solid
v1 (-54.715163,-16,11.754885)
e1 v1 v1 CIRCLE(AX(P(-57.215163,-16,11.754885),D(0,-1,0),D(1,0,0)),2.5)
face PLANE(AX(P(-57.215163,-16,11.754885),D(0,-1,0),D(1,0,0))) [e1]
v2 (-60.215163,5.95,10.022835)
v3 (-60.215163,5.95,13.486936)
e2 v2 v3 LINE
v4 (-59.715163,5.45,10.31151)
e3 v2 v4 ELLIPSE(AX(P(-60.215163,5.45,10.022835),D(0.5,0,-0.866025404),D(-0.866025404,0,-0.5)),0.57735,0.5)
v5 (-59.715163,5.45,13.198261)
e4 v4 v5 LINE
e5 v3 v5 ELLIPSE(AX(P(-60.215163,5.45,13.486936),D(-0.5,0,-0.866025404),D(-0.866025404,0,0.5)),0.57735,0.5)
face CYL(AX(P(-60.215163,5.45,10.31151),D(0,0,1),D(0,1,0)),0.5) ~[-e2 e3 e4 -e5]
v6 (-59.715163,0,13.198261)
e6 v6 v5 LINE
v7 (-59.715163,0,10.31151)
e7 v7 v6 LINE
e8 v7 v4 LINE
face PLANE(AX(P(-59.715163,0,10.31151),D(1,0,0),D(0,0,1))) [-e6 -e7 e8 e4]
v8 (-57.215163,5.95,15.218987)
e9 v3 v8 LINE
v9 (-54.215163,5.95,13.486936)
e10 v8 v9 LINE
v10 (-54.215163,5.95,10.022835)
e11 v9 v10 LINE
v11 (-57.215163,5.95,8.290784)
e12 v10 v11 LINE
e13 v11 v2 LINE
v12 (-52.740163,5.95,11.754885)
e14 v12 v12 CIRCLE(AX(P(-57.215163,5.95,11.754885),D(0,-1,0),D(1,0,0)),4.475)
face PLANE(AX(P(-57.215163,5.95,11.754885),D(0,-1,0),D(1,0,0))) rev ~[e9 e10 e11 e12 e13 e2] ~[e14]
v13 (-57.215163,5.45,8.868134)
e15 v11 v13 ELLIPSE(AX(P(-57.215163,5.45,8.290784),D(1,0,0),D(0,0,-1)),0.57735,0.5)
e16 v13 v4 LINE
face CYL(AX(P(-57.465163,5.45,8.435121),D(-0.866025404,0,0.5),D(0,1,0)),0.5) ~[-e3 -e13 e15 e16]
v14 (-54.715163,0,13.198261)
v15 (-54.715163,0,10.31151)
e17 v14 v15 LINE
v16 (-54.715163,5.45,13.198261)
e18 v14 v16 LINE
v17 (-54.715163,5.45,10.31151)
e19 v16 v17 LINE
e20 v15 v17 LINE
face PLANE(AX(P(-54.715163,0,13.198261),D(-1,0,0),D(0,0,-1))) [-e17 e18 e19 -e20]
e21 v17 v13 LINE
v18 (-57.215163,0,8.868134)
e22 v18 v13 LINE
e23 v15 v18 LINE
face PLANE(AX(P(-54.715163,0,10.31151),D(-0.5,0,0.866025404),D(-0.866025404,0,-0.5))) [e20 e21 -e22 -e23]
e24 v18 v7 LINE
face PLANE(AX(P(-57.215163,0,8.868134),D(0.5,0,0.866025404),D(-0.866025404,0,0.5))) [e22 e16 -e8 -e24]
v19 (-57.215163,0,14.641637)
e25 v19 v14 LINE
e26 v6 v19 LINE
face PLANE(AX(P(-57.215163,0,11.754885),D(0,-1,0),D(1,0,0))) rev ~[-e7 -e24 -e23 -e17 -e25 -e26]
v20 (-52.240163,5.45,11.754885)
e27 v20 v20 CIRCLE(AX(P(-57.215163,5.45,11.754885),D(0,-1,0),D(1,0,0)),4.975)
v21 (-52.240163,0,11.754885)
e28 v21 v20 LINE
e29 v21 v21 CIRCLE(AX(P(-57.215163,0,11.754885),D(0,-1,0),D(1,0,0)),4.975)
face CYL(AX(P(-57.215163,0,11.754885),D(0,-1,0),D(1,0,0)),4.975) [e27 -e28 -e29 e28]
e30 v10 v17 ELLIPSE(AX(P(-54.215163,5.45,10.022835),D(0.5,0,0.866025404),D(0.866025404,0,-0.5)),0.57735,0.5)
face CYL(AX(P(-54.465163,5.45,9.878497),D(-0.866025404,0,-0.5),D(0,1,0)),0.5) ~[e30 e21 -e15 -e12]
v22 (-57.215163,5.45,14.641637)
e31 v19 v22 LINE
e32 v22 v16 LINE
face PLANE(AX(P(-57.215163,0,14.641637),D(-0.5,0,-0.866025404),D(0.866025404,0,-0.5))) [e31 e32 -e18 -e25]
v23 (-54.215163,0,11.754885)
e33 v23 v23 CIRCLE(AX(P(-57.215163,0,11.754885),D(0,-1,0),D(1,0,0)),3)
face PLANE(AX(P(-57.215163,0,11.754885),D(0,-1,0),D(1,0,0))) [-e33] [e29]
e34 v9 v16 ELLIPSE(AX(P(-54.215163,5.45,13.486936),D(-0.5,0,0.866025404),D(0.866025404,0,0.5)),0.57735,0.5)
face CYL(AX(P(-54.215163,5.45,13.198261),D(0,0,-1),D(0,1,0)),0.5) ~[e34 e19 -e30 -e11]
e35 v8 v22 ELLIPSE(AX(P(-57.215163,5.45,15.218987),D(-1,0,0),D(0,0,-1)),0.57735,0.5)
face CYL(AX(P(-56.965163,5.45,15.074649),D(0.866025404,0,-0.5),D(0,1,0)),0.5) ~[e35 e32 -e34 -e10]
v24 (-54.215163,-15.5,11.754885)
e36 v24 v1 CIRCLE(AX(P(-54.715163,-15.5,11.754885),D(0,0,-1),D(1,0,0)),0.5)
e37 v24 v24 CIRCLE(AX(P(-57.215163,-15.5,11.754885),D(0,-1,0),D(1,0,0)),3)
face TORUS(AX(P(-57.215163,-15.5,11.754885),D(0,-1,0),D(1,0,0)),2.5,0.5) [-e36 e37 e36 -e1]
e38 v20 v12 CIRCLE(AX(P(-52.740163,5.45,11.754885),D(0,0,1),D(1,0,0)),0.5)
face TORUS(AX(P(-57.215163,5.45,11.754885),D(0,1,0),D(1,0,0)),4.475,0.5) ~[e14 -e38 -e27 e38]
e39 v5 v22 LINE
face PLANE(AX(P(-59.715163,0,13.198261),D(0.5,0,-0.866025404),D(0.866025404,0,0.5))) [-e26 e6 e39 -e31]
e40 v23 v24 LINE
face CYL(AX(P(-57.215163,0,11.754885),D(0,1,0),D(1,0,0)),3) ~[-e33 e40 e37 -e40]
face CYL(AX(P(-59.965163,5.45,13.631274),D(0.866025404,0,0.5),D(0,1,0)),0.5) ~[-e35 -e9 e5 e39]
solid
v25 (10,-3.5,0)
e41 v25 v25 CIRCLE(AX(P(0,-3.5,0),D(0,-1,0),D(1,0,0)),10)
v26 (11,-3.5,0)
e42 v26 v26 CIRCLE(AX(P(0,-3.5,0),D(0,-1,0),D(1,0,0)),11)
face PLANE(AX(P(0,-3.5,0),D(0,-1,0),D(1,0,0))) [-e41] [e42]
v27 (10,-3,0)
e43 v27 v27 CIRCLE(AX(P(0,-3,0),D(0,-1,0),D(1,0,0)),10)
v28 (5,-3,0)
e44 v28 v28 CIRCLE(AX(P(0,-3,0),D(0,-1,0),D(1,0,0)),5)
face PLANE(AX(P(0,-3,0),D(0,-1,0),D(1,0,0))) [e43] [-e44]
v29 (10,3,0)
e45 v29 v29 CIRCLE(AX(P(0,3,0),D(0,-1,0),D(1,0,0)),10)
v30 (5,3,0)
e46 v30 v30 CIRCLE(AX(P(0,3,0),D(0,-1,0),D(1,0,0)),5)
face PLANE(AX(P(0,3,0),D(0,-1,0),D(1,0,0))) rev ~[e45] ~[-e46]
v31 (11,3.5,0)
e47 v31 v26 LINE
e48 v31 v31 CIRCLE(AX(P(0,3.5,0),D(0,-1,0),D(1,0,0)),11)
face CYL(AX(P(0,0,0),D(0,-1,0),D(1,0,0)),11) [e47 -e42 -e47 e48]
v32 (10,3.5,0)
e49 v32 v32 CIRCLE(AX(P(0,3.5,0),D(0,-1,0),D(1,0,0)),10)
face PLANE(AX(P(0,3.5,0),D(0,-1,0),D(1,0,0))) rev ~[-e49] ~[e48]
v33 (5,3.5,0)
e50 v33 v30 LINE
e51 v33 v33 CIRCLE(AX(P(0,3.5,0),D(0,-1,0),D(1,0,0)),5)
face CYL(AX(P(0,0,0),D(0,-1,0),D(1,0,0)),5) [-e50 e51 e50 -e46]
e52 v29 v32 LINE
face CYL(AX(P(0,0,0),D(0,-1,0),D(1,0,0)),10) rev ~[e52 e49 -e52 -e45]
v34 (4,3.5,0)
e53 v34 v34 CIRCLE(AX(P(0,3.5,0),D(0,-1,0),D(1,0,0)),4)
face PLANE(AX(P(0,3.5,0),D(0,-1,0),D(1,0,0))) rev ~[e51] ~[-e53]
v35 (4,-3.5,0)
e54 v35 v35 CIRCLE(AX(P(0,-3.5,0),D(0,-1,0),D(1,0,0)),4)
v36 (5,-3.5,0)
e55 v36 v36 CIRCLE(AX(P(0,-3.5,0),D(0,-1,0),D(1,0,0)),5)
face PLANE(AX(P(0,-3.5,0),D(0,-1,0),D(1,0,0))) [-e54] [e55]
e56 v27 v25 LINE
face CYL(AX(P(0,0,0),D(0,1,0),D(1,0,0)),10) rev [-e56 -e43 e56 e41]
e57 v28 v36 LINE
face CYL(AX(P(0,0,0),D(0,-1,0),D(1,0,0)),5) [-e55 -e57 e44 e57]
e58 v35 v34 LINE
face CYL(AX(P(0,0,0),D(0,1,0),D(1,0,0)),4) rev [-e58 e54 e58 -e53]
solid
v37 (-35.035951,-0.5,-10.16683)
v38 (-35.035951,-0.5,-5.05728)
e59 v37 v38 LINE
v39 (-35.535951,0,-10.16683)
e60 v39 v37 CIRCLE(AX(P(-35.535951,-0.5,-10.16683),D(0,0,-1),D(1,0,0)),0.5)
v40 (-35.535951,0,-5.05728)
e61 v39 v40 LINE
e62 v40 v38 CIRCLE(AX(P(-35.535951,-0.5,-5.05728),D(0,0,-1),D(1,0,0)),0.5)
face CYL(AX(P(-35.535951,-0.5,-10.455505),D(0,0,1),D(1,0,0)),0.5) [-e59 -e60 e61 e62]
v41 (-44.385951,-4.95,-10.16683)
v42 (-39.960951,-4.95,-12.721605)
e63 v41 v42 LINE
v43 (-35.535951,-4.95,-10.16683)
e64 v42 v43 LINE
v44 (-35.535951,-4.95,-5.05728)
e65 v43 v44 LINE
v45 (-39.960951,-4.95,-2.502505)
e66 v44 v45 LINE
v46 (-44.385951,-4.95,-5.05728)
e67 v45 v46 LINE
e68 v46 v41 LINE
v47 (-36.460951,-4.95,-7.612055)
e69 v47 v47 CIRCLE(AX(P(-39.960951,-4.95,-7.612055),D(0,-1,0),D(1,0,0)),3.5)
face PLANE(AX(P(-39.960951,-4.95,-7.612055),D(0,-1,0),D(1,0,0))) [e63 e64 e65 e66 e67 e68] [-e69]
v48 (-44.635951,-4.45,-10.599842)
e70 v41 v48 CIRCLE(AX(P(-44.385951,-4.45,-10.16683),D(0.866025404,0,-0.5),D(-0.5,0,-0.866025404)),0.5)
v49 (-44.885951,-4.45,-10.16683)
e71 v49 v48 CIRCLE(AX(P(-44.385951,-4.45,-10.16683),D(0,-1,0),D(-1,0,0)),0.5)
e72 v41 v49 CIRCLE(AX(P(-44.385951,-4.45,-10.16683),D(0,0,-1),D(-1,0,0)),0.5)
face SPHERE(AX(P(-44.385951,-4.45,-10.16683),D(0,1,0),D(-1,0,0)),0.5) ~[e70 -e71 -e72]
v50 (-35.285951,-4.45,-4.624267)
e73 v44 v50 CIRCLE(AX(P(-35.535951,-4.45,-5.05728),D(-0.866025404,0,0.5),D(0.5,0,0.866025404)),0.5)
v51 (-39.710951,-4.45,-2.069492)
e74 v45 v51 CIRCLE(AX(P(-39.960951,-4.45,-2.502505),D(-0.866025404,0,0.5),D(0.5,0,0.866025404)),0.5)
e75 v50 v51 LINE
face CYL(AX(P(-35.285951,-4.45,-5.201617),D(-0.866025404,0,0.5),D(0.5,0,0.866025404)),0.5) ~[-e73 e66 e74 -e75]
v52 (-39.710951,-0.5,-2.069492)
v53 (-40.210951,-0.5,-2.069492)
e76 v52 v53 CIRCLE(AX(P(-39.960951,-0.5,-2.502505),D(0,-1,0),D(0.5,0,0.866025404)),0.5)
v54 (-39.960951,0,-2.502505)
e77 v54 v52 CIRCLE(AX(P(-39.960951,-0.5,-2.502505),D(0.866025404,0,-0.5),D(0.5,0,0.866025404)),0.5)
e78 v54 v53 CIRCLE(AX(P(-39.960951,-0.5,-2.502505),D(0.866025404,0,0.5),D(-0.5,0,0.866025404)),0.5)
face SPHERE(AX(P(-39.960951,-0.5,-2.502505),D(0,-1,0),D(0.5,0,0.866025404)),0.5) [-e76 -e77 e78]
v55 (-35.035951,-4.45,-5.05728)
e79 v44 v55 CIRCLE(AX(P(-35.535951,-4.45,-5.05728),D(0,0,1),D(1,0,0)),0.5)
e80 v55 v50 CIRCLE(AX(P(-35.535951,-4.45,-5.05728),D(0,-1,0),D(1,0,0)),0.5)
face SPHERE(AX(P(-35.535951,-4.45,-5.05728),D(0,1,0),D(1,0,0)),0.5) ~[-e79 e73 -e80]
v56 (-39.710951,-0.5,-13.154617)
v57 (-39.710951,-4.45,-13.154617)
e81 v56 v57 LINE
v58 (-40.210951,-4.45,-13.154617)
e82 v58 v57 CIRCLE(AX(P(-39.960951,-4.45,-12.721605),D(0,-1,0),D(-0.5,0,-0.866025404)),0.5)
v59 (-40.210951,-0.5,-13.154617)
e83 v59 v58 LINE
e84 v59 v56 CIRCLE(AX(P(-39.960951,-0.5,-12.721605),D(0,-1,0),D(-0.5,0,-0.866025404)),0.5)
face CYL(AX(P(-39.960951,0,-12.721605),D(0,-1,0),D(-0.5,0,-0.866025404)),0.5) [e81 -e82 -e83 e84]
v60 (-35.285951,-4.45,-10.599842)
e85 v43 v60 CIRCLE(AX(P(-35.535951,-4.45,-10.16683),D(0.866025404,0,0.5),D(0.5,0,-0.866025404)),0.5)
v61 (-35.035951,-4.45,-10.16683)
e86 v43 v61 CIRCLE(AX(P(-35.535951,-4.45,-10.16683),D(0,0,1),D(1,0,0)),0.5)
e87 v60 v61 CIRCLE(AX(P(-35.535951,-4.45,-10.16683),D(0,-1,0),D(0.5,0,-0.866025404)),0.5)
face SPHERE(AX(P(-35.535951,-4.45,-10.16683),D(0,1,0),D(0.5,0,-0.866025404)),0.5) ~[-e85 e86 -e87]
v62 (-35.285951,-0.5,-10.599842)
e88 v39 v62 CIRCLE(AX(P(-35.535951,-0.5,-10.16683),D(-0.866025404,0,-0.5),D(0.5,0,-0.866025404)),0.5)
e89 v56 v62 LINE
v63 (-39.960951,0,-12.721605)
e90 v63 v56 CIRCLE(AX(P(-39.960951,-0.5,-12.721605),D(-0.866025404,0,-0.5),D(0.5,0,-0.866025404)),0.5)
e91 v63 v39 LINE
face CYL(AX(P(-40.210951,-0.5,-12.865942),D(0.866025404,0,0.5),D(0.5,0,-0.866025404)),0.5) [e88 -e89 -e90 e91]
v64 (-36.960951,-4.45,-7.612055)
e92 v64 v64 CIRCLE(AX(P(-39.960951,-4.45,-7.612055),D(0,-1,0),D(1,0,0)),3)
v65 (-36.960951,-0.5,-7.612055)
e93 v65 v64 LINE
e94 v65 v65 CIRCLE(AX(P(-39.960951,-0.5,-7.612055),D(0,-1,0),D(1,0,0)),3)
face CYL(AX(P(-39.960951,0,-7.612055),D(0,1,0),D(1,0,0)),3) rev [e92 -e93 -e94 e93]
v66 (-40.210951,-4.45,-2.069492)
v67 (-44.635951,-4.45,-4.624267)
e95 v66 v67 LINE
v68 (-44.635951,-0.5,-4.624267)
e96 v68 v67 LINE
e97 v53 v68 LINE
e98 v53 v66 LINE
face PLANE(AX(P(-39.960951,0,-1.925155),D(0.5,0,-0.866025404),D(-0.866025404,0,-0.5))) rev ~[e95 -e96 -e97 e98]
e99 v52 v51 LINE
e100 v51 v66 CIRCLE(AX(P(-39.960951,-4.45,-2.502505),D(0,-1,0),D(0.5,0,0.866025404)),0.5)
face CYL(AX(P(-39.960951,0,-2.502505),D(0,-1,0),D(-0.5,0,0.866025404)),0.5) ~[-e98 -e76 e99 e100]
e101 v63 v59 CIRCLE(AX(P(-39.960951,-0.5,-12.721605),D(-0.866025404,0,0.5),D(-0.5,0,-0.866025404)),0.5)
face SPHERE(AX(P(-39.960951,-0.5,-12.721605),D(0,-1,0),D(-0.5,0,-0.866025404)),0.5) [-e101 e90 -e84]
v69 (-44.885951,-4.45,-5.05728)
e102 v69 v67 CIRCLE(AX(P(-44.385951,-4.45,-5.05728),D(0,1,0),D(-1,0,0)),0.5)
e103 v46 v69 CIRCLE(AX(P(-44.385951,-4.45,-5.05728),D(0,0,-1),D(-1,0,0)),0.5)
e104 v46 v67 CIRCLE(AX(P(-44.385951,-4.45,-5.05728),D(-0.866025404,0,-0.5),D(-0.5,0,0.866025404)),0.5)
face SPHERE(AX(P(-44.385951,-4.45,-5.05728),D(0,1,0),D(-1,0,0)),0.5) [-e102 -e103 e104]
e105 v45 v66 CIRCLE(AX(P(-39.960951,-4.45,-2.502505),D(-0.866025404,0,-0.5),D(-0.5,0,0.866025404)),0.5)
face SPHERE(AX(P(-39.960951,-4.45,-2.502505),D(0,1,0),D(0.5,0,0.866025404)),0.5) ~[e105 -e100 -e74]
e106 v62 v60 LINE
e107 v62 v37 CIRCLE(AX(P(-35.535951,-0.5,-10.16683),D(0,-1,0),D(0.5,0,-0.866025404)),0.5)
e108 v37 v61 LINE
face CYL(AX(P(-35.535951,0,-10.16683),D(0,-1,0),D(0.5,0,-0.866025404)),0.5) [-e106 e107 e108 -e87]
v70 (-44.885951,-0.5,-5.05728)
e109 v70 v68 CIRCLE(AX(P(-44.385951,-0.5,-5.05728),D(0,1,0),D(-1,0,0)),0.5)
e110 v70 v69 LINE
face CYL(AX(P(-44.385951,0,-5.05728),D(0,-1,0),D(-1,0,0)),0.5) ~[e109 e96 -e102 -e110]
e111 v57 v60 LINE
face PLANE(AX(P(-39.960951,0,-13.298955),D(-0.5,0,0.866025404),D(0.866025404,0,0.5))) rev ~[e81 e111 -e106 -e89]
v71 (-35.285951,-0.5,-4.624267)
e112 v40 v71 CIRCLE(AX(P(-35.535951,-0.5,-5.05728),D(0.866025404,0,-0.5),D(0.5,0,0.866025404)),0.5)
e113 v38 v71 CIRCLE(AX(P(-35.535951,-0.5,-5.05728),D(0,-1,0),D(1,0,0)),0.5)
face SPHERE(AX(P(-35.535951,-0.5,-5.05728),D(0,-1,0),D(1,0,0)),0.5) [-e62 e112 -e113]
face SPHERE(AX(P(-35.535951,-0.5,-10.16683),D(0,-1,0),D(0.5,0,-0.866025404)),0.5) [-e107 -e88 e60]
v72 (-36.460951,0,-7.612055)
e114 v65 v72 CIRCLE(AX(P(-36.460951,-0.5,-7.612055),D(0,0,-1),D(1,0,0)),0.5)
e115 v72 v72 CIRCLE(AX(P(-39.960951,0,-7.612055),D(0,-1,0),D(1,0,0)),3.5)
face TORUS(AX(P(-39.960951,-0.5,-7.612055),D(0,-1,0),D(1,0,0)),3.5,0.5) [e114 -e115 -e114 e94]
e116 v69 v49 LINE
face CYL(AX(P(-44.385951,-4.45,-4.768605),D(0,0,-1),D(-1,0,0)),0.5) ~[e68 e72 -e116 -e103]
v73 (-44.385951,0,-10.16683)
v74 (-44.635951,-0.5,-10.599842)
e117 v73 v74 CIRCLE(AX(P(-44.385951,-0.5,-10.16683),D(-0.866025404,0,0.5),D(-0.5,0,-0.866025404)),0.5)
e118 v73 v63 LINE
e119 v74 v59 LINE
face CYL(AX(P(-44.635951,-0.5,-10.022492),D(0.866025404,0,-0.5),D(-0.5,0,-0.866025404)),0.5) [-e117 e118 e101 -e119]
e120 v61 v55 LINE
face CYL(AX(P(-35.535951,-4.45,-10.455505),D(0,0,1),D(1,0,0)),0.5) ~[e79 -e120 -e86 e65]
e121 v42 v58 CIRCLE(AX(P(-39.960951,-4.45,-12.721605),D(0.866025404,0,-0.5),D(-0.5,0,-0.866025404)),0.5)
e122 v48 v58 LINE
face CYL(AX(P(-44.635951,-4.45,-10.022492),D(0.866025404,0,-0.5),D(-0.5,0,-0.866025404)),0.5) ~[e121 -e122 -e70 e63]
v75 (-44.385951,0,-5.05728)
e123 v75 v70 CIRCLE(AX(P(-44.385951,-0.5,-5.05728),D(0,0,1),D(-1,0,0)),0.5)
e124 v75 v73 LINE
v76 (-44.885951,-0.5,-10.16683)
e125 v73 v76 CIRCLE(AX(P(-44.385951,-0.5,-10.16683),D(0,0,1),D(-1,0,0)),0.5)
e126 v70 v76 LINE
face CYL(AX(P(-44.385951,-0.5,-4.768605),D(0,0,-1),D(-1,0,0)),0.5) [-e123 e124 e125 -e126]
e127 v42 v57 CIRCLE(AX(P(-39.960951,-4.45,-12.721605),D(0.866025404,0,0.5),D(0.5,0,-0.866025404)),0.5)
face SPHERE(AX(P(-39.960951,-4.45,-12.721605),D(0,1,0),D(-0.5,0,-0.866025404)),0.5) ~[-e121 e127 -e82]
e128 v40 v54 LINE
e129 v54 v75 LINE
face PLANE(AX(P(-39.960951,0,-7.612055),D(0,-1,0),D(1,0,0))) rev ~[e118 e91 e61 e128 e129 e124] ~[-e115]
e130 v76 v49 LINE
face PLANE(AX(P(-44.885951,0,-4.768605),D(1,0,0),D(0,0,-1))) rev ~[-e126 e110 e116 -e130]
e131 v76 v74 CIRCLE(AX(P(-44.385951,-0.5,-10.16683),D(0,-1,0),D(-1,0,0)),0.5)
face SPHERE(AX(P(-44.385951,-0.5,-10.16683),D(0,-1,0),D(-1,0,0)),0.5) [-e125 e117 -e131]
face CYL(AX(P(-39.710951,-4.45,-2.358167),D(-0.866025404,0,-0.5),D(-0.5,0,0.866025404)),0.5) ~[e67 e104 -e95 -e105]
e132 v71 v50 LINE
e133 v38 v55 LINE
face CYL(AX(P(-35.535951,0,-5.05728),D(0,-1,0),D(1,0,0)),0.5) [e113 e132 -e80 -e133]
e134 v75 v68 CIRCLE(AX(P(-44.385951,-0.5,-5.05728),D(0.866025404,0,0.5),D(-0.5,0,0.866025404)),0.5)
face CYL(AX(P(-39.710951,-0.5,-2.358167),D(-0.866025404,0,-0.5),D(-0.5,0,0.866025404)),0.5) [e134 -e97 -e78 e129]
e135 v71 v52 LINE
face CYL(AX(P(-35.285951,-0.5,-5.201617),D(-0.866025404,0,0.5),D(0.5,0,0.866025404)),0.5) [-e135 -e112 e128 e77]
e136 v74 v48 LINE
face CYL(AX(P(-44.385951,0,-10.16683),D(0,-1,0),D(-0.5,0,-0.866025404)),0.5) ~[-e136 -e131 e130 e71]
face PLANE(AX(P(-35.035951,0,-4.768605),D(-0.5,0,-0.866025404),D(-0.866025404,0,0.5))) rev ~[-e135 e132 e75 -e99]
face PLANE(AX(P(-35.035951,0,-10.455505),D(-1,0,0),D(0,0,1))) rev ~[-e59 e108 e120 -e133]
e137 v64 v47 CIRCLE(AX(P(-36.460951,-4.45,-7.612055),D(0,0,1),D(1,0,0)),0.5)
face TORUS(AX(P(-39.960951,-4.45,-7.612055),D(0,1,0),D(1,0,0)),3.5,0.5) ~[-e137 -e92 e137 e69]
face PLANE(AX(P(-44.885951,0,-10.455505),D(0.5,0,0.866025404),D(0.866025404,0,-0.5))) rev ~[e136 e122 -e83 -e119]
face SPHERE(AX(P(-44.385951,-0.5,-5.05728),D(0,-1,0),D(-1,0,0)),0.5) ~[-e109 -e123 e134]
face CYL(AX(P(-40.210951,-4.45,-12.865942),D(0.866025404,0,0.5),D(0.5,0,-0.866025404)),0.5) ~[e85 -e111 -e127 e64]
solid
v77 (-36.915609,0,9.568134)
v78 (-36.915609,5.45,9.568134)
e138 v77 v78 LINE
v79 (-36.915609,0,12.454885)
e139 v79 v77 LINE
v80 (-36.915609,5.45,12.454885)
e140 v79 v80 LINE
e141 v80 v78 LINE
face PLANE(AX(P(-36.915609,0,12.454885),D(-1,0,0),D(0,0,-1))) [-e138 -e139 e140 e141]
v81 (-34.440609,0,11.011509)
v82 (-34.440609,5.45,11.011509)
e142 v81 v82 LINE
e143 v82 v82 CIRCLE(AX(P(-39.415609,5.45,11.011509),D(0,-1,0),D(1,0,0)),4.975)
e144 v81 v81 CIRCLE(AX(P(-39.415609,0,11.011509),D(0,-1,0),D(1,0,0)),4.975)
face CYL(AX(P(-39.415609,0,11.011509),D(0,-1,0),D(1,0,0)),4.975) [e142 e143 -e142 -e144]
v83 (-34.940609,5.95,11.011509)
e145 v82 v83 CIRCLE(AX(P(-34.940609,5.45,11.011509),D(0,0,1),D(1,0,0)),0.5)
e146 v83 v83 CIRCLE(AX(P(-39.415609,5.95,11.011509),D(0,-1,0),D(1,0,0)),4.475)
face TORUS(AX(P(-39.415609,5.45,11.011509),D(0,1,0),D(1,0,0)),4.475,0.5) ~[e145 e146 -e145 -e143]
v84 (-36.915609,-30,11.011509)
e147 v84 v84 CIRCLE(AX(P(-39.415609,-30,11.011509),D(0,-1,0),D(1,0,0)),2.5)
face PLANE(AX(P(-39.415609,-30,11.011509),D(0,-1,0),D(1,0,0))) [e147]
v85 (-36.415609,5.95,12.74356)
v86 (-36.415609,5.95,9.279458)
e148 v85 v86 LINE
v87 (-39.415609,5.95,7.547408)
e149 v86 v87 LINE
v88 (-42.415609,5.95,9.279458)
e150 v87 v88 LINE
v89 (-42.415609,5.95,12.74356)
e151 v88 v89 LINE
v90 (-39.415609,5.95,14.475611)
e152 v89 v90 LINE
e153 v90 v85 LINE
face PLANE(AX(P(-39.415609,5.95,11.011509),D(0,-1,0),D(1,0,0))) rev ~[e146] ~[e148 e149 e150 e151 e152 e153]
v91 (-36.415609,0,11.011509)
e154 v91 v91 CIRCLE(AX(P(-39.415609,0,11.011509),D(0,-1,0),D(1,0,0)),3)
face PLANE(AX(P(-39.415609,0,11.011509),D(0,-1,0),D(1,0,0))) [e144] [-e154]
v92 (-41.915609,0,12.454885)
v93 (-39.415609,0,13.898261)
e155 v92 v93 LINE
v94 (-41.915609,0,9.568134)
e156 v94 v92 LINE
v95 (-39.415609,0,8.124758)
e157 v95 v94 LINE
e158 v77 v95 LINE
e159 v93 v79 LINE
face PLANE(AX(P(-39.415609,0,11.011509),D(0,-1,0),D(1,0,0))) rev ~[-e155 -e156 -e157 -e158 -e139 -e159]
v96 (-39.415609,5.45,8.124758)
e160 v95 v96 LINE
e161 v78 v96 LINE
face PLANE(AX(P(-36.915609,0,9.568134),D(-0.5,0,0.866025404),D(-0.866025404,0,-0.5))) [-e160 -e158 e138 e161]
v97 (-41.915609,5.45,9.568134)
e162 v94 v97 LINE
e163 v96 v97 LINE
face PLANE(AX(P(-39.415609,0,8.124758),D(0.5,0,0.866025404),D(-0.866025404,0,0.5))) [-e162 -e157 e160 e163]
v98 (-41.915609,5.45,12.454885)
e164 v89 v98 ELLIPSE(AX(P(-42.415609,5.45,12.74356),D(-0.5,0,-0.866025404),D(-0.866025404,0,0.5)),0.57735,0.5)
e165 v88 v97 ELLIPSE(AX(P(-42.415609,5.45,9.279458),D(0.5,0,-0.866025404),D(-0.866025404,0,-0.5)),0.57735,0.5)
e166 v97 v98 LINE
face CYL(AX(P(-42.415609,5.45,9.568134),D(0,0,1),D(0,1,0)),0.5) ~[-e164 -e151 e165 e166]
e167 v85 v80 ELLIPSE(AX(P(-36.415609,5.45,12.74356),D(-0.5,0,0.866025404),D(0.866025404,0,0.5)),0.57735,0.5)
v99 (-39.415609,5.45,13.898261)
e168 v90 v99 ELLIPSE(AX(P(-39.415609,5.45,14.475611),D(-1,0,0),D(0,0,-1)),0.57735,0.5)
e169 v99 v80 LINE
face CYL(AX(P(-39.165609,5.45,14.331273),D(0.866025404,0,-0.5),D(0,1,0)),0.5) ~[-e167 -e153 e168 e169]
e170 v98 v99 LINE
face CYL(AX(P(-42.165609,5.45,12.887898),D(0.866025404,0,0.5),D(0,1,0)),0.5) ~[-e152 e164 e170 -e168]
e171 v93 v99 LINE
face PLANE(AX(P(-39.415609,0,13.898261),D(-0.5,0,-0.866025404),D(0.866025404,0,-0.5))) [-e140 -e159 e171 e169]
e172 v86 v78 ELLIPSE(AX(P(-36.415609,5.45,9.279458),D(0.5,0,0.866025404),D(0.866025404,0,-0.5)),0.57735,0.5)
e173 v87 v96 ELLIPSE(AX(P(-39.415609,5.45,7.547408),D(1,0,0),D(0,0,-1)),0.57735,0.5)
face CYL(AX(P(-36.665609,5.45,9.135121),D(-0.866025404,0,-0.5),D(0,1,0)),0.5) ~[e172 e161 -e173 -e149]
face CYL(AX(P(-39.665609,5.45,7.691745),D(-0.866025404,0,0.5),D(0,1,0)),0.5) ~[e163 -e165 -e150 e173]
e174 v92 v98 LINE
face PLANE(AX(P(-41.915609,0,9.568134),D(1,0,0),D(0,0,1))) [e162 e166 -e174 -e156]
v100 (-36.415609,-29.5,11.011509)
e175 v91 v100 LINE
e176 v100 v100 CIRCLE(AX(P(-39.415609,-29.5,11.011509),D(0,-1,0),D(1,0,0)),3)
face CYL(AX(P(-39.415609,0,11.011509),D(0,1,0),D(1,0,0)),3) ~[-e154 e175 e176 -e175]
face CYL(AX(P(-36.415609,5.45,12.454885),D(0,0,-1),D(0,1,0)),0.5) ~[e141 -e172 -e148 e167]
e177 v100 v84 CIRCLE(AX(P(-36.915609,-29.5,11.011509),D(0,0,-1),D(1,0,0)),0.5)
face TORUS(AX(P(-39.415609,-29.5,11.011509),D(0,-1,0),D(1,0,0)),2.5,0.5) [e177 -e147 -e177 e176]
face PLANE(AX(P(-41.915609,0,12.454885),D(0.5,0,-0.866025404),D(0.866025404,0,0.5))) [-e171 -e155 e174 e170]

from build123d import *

# Parameters (mm, degrees)
F0_R     = 10
F0_R_2   = 5
F1_DEPTH = 3
F0_R_3   = 11
F0_R_4   = 4
F2_DEPTH = 3.5
F3_R     = 4.975
F3_R_2   = 3
F4_DEPTH = 5.95
F5_DEPTH = 30
F6_DEPTH = 16
F7_DEPTH = 4.95
F8_R     = 0.5
F8_2_R   = 0.5
F8_3_R   = 0.5


with BuildPart() as f1:
    # F0 (on Front) → F1 (new body, symmetric)
    with BuildSketch(Plane.XZ):
        Circle(F0_R)
        Circle(F0_R_2, mode=Mode.SUBTRACT)
    extrude(amount=F1_DEPTH, both=True)

    # F0 (on Front) → F2 (join, symmetric)
    with BuildSketch(Plane.XZ):
        Circle(F0_R_3)
        Circle(F0_R, mode=Mode.SUBTRACT)
        Circle(F0_R_2)
        Circle(F0_R_4, mode=Mode.SUBTRACT)
    extrude(amount=F2_DEPTH, both=True)


with BuildPart() as f4:
    # F3 (on Front) → F4 (new body)
    with BuildSketch(Plane.XZ):
        with Locations((-57.2151634924, 11.7548853159)):
            Circle(F3_R)
        with Locations((-57.2151634924, 11.7548853159)):
            Circle(F3_R_2, mode=Mode.SUBTRACT)
        with Locations((-57.2151634924, 11.7548853159)):
            Circle(F3_R_2)
        Polygon((-57.2151634924, 14.6416366618), (-54.7151634924, 13.1982609889), (-54.7151634924, 10.3115096429), (-57.2151634924, 8.8681339699), (-59.7151634924, 10.3115096429), (-59.7151634924, 13.1982609889), align=None, mode=Mode.SUBTRACT)
    extrude(amount=-F4_DEPTH)

    # F3 (on Front) → F6 (join)
    with BuildSketch(Plane.XZ):
        with Locations((-57.2151634924, 11.7548853159)):
            Circle(F3_R_2)
        Polygon((-57.2151634924, 14.6416366618), (-54.7151634924, 13.1982609889), (-54.7151634924, 10.3115096429), (-57.2151634924, 8.8681339699), (-59.7151634924, 10.3115096429), (-59.7151634924, 13.1982609889), align=None, mode=Mode.SUBTRACT)
        Polygon((-54.7151634924, 10.3115096429), (-54.7151634924, 13.1982609889), (-57.2151634924, 14.6416366618), (-59.7151634924, 13.1982609889), (-59.7151634924, 10.3115096429), (-57.2151634924, 8.8681339699), align=None)
    extrude(amount=F6_DEPTH)

    # F8#3
    f8_3_edges = [f4.edges().sort_by_distance(p)[0] for p in [
        (-60.215163, -16, 11.754885),
        (-55.965163, 5.95, 13.919949),
        (-54.715163, 5.95, 11.754885),
        (-55.965163, 5.95, 9.589822),
        (-58.465163, 5.95, 9.589822),
        (-59.715163, 5.95, 11.754885),
        (-58.465163, 5.95, 13.919949),
        (-62.190163, 5.95, 11.754885),
    ]]
    fillet(f8_3_edges, radius=F8_3_R)


with BuildPart() as f4b:
    # F3 (on Front) → F4, piece 2 (new body)
    with BuildSketch(Plane.XZ):
        with Locations((-39.4156093083, 11.0115092248)):
            Circle(F3_R)
        with Locations((-39.4156093083, 11.0115092248)):
            Circle(F3_R_2, mode=Mode.SUBTRACT)
        with Locations((-39.4156093083, 11.0115092248)):
            Circle(F3_R_2)
        Polygon((-39.4156093083, 13.8982605707), (-36.9156093083, 12.4548848977), (-36.9156093083, 9.5681335518), (-39.4156093083, 8.1247578788), (-41.9156093083, 9.5681335518), (-41.9156093083, 12.4548848977), align=None, mode=Mode.SUBTRACT)
    extrude(amount=-F4_DEPTH)

    # F3 (on Front) → F5 (join)
    with BuildSketch(Plane.XZ):
        with Locations((-39.4156093083, 11.0115092248)):
            Circle(F3_R_2)
        Polygon((-39.4156093083, 13.8982605707), (-36.9156093083, 12.4548848977), (-36.9156093083, 9.5681335518), (-39.4156093083, 8.1247578788), (-41.9156093083, 9.5681335518), (-41.9156093083, 12.4548848977), align=None, mode=Mode.SUBTRACT)
        Polygon((-36.9156093083, 9.5681335518), (-36.9156093083, 12.4548848977), (-39.4156093083, 13.8982605707), (-41.9156093083, 12.4548848977), (-41.9156093083, 9.5681335518), (-39.4156093083, 8.1247578788), align=None)
    extrude(amount=F5_DEPTH)

    # F8
    f8_edges = [f4b.edges().sort_by_distance(p)[0] for p in [
        (-38.165609, 5.95, 13.176573),
        (-36.915609, 5.95, 11.011509),
        (-38.165609, 5.95, 8.846446),
        (-40.665609, 5.95, 8.846446),
        (-41.915609, 5.95, 11.011509),
        (-40.665609, 5.95, 13.176573),
        (-44.390609, 5.95, 11.011509),
        (-42.415609, -30, 11.011509),
    ]]
    fillet(f8_edges, radius=F8_R)


with BuildPart() as f7:
    # F3 (on Front) → F7 (new body)
    with BuildSketch(Plane.XZ):
        Polygon((-44.885950613, -10.4555048829), (-39.960950613, -13.2989549586), (-35.035950613, -10.4555048829), (-35.035950613, -4.7686047314), (-39.960950613, -1.9251546556), (-44.885950613, -4.7686047314), align=None)
        with Locations((-39.960950613, -7.6120548071)):
            Circle(F3_R_2, mode=Mode.SUBTRACT)
    extrude(amount=F7_DEPTH)

    # F8#2
    f8_2_edges = [f7.edges().sort_by_distance(p)[0] for p in [
        (-44.885951, 0, -7.612055),
        (-42.423451, 0, -11.87723),
        (-37.498451, 0, -11.87723),
        (-35.035951, 0, -7.612055),
        (-37.498451, 0, -3.34688),
        (-42.423451, 0, -3.34688),
        (-42.960951, 0, -7.612055),
        (-44.885951, -4.95, -7.612055),
        (-42.423451, -4.95, -11.87723),
        (-37.498451, -4.95, -11.87723),
        (-35.035951, -4.95, -7.612055),
        (-37.498451, -4.95, -3.34688),
        (-42.423451, -4.95, -3.34688),
        (-42.960951, -4.95, -7.612055),
        (-39.960951, -2.475, -1.925155),
        (-35.035951, -2.475, -4.768605),
        (-44.885951, -2.475, -4.768605),
        (-44.885951, -2.475, -10.455505),
        (-39.960951, -2.475, -13.298955),
        (-35.035951, -2.475, -10.455505),
    ]]
    fillet(f8_2_edges, radius=F8_2_R)


solid = Compound([f1.part, f4.part, f4b.part, f7.part])
